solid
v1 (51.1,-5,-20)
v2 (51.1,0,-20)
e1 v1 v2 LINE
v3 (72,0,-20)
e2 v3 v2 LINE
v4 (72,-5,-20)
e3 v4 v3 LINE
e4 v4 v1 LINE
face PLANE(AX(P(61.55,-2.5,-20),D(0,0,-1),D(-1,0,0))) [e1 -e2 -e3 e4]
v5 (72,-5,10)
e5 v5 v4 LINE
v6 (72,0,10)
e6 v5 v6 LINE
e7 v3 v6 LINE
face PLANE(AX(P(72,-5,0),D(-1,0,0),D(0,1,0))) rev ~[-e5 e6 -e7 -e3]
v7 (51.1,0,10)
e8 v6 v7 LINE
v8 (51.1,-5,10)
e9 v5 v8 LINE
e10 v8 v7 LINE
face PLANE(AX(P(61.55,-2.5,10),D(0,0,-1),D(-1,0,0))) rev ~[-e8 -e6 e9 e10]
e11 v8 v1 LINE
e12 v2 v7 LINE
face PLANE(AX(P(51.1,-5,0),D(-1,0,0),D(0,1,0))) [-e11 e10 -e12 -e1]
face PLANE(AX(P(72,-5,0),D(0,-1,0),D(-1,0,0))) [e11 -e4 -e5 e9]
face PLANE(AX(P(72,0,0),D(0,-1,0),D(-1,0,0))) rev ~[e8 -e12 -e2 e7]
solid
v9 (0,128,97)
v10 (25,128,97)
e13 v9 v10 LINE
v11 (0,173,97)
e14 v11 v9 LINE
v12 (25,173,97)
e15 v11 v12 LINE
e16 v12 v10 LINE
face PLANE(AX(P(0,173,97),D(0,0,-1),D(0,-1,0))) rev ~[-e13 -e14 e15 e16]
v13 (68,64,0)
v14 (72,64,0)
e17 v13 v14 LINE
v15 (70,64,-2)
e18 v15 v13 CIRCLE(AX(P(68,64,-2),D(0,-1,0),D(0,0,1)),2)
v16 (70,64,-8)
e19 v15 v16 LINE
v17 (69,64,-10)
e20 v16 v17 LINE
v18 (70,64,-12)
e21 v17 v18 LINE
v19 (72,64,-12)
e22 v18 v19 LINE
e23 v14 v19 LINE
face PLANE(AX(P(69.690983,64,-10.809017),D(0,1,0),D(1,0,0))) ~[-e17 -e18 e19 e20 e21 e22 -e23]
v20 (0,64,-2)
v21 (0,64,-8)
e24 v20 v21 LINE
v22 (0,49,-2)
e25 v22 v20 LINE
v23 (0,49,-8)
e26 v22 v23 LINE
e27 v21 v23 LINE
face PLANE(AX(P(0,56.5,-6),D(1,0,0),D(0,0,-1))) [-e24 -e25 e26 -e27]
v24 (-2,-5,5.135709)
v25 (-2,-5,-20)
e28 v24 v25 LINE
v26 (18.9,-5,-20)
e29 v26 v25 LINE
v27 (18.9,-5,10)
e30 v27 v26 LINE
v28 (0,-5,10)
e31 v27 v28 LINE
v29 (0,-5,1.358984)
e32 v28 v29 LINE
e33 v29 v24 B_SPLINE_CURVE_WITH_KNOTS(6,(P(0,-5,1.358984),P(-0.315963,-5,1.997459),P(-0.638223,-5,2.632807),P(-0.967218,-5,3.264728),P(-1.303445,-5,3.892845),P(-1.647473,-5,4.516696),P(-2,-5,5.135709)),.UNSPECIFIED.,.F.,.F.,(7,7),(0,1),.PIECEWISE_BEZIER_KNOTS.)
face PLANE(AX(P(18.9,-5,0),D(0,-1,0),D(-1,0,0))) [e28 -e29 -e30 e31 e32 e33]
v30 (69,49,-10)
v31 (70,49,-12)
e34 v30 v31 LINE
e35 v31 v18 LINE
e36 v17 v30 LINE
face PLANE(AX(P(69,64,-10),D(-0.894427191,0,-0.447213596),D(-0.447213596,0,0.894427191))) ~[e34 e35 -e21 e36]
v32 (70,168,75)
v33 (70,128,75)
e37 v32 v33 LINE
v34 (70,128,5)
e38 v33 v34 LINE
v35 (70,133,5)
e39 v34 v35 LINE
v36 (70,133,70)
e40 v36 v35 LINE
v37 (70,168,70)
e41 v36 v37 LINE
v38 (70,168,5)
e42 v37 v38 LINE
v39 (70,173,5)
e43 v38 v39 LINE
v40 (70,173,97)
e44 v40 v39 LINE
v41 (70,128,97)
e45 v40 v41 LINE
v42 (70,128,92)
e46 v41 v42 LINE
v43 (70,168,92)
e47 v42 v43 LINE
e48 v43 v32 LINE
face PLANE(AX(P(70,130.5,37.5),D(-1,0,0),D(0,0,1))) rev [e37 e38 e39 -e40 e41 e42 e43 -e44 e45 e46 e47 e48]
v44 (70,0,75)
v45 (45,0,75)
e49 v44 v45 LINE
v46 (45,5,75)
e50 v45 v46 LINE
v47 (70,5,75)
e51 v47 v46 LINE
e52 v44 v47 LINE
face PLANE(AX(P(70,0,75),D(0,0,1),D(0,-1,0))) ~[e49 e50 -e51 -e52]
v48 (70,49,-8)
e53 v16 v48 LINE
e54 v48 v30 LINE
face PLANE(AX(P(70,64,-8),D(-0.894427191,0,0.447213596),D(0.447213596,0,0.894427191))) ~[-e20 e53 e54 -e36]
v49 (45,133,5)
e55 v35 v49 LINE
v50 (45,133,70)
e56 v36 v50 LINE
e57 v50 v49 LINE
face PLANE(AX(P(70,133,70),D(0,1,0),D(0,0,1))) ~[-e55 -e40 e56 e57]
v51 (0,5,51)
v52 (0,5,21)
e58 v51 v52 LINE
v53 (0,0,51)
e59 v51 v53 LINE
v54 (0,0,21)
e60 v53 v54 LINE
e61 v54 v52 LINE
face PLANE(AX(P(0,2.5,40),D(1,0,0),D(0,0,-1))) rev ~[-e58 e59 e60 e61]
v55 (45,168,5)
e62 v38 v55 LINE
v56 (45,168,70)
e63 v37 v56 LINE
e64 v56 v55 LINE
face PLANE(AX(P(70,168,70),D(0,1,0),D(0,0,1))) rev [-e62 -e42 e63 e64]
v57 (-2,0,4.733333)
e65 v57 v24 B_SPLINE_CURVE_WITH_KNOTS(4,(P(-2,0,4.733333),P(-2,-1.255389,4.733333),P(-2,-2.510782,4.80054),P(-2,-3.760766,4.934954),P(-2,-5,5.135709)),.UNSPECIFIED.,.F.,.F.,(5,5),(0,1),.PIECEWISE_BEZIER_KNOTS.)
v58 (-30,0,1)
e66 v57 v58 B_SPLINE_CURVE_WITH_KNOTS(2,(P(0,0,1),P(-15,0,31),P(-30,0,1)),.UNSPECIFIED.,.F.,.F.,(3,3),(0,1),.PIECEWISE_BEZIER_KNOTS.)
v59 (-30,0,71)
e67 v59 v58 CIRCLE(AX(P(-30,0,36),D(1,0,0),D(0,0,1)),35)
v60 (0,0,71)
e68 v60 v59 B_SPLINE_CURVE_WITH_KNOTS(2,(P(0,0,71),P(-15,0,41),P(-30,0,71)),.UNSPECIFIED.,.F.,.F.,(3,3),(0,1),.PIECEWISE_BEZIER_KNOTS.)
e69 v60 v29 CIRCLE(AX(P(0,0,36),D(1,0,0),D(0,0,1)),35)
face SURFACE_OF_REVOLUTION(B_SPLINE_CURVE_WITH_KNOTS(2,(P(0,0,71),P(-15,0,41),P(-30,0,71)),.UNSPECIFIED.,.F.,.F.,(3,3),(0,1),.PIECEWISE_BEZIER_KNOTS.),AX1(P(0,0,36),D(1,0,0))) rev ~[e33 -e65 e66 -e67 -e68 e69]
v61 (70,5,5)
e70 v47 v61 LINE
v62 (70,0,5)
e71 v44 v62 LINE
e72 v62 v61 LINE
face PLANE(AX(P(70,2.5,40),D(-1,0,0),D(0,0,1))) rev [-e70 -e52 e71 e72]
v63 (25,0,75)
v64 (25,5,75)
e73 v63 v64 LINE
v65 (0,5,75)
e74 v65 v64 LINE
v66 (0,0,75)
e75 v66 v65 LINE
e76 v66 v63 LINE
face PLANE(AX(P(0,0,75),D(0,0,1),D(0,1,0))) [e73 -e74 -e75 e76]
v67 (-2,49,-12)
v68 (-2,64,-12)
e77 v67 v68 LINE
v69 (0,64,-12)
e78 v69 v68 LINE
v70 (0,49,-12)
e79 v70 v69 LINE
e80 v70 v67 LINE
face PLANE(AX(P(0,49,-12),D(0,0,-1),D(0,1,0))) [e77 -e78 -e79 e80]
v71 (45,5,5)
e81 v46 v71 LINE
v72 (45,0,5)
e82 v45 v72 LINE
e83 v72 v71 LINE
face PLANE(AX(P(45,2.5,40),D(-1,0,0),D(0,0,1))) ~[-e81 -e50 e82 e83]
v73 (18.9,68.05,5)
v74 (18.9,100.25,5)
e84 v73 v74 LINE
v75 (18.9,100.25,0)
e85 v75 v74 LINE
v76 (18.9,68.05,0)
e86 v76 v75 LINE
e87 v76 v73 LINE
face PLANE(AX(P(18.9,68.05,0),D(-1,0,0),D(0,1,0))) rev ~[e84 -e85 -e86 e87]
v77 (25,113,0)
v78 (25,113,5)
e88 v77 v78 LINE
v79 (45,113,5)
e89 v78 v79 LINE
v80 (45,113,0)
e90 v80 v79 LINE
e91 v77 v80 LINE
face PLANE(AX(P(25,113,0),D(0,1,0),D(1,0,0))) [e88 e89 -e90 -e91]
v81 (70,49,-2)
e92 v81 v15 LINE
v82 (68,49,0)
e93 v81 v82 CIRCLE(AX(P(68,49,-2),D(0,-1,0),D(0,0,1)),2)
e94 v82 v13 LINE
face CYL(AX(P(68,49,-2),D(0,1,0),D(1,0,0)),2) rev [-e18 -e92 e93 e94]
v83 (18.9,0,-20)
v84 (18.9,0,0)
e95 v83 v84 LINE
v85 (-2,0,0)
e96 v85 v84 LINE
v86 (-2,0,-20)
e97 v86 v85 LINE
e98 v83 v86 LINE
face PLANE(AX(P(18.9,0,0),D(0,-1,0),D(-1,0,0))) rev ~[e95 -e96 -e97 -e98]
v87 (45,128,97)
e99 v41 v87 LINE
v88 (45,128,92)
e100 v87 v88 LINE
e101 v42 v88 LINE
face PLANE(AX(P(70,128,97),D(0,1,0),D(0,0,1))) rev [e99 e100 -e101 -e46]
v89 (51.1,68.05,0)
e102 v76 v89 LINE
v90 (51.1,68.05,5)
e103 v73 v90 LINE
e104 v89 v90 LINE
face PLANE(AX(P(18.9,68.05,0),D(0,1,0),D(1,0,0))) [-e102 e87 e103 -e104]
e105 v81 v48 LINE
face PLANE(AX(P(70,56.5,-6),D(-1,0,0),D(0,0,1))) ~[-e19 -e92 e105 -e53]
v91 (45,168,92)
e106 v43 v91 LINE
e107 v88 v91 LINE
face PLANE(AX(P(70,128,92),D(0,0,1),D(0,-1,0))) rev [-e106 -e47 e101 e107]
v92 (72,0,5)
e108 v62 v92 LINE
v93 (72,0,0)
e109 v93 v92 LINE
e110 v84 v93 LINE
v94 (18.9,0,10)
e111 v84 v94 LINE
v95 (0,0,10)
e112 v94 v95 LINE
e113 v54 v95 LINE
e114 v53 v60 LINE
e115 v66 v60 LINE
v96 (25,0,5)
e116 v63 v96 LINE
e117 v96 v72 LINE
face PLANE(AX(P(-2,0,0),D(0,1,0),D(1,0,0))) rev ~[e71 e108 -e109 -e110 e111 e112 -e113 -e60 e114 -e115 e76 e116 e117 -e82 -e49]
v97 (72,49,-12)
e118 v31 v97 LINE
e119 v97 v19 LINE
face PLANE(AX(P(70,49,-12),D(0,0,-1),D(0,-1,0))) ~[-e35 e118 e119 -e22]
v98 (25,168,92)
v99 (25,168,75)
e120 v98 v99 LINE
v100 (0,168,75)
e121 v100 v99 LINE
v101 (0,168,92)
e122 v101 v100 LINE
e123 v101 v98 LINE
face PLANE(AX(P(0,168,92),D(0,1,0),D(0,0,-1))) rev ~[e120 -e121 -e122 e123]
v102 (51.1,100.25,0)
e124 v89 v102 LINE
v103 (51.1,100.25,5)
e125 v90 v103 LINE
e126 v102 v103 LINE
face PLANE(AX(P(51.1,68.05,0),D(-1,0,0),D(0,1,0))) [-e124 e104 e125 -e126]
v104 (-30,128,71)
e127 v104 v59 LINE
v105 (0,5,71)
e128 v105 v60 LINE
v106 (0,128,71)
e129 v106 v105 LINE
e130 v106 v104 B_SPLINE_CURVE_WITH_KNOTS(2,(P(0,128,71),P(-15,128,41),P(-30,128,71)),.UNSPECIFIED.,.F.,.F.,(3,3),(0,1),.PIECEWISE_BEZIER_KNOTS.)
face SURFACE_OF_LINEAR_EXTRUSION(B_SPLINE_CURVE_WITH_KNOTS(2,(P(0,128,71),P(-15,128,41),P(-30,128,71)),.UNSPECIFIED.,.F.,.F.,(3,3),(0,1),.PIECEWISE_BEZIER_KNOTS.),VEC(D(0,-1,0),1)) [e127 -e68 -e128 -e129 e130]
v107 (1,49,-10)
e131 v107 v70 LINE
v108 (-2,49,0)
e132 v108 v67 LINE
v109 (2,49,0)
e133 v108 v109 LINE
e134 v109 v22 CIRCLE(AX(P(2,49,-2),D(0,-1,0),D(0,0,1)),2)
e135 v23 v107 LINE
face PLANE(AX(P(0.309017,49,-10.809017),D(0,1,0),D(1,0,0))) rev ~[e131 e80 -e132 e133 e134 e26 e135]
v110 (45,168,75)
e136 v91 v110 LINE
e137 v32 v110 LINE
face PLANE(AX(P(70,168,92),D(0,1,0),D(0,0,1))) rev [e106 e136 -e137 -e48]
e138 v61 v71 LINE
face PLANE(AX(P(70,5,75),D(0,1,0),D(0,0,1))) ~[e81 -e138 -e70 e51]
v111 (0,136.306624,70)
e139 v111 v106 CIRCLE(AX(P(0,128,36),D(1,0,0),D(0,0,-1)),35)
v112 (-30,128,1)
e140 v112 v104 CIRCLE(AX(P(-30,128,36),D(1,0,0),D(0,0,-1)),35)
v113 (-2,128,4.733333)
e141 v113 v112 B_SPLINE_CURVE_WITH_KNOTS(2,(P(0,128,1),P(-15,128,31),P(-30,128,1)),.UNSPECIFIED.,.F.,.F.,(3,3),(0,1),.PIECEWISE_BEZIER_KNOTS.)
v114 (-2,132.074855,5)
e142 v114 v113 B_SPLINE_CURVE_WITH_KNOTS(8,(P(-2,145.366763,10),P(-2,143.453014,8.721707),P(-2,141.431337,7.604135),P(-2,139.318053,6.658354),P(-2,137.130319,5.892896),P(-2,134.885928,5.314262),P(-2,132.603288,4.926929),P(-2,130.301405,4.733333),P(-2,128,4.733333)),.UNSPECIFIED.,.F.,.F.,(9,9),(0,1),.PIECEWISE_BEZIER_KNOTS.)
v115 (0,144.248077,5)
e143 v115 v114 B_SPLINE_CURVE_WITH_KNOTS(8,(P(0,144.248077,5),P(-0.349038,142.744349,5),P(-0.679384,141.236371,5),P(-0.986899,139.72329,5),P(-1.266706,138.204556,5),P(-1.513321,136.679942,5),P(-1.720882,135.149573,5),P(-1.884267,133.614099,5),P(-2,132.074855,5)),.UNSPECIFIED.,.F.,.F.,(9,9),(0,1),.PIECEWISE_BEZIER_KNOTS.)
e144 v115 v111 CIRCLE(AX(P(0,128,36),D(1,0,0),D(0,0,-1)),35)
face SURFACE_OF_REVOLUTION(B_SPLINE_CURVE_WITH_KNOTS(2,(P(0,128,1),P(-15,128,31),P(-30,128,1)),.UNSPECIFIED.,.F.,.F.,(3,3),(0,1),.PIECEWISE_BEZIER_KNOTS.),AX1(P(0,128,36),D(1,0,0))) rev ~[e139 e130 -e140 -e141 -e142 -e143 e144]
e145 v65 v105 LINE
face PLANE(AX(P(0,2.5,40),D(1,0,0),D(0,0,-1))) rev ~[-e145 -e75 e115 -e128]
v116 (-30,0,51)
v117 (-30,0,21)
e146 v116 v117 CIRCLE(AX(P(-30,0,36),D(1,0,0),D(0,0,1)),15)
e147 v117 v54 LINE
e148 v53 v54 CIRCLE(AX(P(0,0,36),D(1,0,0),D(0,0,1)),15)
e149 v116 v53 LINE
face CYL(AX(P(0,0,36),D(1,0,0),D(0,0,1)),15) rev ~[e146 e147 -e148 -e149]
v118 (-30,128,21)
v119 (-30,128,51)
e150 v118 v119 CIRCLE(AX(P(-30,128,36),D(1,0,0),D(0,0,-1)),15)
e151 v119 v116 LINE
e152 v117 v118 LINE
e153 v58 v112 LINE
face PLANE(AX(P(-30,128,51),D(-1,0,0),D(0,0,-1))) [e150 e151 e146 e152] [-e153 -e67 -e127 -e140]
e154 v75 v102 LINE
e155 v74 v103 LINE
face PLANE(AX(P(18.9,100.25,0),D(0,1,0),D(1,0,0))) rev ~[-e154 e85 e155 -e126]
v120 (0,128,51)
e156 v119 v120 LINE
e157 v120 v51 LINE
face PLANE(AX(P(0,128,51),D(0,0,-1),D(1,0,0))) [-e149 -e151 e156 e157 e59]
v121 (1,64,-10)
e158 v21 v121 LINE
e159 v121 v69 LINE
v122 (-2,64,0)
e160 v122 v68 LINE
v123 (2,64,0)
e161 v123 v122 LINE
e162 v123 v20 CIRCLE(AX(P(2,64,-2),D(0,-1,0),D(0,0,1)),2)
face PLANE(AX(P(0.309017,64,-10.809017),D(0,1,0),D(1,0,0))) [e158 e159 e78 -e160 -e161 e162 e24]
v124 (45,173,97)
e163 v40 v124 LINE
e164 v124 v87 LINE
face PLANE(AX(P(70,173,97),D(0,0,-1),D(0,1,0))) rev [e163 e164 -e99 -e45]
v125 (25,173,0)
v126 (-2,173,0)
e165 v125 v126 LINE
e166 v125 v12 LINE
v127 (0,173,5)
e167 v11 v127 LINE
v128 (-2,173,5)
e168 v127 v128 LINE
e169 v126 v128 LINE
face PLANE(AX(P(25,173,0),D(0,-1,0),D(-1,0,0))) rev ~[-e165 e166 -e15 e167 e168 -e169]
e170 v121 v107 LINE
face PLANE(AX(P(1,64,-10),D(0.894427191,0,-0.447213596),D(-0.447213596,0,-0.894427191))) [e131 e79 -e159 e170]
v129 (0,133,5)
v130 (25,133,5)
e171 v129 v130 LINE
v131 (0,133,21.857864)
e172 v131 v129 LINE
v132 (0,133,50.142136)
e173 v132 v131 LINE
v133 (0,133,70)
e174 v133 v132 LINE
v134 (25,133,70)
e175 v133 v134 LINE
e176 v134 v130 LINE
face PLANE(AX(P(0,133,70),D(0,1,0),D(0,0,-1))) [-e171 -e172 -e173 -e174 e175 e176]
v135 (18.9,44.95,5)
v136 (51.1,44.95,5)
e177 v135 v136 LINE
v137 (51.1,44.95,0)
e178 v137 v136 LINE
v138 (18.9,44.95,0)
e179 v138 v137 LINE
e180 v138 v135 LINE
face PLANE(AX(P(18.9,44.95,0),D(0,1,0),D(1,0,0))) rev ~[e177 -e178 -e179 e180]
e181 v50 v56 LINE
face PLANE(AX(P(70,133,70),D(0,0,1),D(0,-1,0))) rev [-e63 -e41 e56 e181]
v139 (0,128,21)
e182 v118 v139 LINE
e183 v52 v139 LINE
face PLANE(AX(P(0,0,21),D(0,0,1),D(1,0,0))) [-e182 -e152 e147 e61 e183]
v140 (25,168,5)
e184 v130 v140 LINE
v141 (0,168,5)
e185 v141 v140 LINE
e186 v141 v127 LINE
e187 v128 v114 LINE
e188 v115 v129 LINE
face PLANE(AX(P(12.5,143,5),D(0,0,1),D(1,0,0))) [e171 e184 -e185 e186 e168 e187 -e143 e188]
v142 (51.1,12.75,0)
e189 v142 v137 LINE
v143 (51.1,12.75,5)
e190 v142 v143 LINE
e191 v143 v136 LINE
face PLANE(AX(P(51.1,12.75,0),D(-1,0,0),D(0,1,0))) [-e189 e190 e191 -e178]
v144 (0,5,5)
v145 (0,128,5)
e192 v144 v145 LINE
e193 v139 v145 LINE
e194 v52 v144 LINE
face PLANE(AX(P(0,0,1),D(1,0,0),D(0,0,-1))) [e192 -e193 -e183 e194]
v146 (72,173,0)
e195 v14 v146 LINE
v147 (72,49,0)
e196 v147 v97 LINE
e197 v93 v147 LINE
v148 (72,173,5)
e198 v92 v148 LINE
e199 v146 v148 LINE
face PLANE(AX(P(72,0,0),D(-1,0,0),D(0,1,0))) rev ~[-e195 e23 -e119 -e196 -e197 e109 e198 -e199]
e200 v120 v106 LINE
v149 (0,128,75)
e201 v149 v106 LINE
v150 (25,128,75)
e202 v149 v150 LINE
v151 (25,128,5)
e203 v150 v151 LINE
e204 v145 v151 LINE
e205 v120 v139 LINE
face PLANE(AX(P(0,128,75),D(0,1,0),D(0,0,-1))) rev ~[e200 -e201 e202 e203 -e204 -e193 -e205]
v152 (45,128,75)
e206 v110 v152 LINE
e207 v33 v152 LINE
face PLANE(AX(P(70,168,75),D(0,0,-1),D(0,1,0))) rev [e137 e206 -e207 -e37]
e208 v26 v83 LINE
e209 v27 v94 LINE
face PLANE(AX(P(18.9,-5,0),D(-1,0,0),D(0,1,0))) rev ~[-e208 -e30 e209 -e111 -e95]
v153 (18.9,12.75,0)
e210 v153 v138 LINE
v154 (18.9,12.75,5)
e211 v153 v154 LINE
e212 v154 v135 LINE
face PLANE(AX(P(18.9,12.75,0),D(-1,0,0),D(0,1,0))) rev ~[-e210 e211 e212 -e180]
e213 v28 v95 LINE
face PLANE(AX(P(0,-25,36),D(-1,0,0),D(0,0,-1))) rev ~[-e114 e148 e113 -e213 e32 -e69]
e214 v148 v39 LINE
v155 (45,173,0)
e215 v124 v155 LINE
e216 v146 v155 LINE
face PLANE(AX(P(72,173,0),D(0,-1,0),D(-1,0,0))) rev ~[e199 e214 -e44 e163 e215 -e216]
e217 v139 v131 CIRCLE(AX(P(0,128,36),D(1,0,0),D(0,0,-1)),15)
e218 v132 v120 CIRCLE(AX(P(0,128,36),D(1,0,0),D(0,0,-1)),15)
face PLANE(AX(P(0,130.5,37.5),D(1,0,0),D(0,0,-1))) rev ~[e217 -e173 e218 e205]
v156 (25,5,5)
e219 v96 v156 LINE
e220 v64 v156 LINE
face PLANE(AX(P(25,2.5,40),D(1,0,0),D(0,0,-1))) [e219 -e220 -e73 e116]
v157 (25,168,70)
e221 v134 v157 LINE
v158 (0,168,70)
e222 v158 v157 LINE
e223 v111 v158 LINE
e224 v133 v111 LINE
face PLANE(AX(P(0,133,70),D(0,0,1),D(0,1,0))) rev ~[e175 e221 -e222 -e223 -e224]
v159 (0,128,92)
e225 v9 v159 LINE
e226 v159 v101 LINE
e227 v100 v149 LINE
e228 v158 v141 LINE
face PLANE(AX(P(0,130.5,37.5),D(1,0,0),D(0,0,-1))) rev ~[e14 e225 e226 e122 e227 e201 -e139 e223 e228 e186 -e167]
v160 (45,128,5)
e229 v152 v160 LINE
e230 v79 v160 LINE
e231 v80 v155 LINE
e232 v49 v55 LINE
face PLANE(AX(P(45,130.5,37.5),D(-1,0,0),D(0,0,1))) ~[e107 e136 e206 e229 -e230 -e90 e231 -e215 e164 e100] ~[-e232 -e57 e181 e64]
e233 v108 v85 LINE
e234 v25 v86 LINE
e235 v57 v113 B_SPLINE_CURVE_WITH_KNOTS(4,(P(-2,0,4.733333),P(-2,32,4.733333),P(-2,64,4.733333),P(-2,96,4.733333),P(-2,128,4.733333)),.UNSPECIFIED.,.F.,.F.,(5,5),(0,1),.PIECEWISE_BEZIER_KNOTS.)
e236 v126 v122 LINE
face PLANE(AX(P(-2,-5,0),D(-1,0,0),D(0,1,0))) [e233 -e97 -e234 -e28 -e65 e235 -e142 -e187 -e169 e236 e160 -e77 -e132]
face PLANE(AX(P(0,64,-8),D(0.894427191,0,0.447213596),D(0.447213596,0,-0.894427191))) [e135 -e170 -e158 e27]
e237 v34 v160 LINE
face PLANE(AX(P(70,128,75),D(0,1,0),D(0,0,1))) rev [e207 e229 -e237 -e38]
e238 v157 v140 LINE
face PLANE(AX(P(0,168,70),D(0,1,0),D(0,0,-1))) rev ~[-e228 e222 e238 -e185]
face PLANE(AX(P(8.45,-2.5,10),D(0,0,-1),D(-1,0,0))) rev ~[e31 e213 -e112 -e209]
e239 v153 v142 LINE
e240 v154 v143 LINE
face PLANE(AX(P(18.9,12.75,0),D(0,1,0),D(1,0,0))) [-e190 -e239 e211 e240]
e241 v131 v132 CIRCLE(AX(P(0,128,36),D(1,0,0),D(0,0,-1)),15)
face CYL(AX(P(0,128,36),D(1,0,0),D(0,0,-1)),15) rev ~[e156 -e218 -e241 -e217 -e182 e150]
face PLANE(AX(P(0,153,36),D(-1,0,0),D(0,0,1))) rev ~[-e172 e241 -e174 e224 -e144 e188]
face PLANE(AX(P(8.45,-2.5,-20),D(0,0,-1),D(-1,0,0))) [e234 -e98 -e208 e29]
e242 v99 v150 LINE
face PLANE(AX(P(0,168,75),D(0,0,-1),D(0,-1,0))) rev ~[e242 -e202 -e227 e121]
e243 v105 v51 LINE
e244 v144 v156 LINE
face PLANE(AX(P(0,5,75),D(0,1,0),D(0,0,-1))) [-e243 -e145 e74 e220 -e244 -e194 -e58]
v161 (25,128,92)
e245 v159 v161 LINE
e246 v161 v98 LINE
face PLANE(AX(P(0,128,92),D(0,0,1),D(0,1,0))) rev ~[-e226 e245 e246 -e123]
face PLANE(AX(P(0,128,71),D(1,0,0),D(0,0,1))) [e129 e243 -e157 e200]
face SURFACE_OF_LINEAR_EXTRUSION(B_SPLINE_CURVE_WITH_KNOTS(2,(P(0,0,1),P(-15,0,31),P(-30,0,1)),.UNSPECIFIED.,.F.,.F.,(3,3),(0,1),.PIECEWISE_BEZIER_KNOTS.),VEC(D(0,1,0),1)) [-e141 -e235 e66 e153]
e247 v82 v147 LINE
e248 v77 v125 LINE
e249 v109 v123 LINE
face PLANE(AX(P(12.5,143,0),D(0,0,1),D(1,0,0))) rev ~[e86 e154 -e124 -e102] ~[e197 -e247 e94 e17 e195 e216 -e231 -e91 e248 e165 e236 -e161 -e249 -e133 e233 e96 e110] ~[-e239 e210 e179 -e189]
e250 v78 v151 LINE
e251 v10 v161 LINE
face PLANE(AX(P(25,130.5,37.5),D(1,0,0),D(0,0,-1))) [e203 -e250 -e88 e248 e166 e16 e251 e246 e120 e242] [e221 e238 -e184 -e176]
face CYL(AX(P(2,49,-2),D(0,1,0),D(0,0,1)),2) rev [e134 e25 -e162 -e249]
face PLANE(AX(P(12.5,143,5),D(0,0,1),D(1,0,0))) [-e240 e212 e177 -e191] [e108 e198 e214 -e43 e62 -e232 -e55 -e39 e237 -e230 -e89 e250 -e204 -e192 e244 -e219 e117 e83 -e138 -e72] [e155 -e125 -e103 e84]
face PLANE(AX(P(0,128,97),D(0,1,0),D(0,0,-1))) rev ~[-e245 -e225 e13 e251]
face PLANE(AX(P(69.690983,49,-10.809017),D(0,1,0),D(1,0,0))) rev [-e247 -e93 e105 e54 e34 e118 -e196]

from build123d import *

# Parameters (mm, degrees)
SKETCH1_W                  = 25
SKETCH1_H                  = 60
SKETCH1_W_2                = 70
SKETCH1_H_2                = 113
SKETCH1_W_3                = 32.2
SKETCH1_H_3                = 32.2
BOSS_EXTRUDE1_DEPTH        = 5
SKETCH2_W                  = 65
SKETCH2_H                  = 5
SKETCH2_W_2                = 5
SKETCH2_H_2                = 40
SKETCH2_W_3                = 92
SKETCH2_W_4                = 70
BOSS_EXTRUDE2_DEPTH        = 25
SKETCH3_W                  = 12
SKETCH3_H                  = 15
BOSS_EXTRUDE3_DEPTH        = 2
BOSS_EXTRUDE5_DEPTH        = 15
SKETCH5_W                  = 20.9
SKETCH5_H                  = 5
BOSS_EXTRUDE6_DEPTH        = 20
BOSS_EXTRUDE6_DEPTH_BACK   = 10
BOSS_EXTRUDE6_2_DEPTH      = 20
BOSS_EXTRUDE6_2_DEPTH_BACK = 10
FILLET1_R                  = 2


with BuildPart() as part:
    # Sketch1 → Boss-Extrude1 (new body)
    with BuildSketch(Plane.XY):
        with Locations((12.5, 143)):
            Rectangle(SKETCH1_W, SKETCH1_H)
        with Locations((57.5, 143)):
            Rectangle(SKETCH1_W, SKETCH1_H)
        with Locations((35, 56.5)):
            Rectangle(SKETCH1_W_2, SKETCH1_H_2)
        with Locations((35, 28.85)):
            Rectangle(SKETCH1_W_3, SKETCH1_H_3, mode=Mode.SUBTRACT)
        with Locations((35, 84.15)):
            Rectangle(SKETCH1_W_3, SKETCH1_H_3, mode=Mode.SUBTRACT)
        Polygon((0, 173), (-2, 173), (-2, 0), (0, 0), (0, 113), align=None)
        Polygon((70, 0), (72, 0), (72, 173), (70, 173), (70, 113), align=None)
    extrude(amount=BOSS_EXTRUDE1_DEPTH)

    # Sketch2 → Boss-Extrude2 (add)
    with BuildSketch(Plane(origin=(0, 0, 0), x_dir=(0, 0, -1), z_dir=(1, 0, 0))):
        with Locations((-37.5, 130.5)):
            Rectangle(SKETCH2_W, SKETCH2_H)
        Polygon((-70, 133), (-70, 168), (-75, 168), (-75, 128), (-70, 128), align=None)
        with Locations((-94.5, 148)):
            Rectangle(SKETCH2_W_2, SKETCH2_H_2)
        with Locations((-51, 170.5)):
            Rectangle(SKETCH2_W_3, SKETCH2_H)
        with Locations((-40, 2.5)):
            Rectangle(SKETCH2_W_4, SKETCH2_H)
    boss_extrude2 = extrude(amount=BOSS_EXTRUDE2_DEPTH)

    # Mirror2: Boss-Extrude2 across plane
    add(boss_extrude2.mirror(Plane(origin=(35, 0, 0), x_dir=(0, 0, 1), z_dir=(1, 0, 0))))

    # Sketch3 → Boss-Extrude3 (add, through all)
    with BuildSketch(Plane(origin=(0, 0, 0), x_dir=(0, 0, -1), z_dir=(1, 0, 0))):
        with Locations((6, 56.5)):
            Rectangle(SKETCH3_W, SKETCH3_H)
    boss_extrude3 = extrude(amount=-BOSS_EXTRUDE3_DEPTH)

    # Sketch4 → Boss-Extrude5 (add)
    with BuildSketch(Plane(origin=(0, 64, 0), x_dir=(1, 0, 0), z_dir=(0, 1, 0))):
        Polygon((1, 10), (0, 12), (0, 10), align=None)
        Polygon((0, 8), (1, 10), (0, 10), align=None)
    boss_extrude5 = extrude(amount=-BOSS_EXTRUDE5_DEPTH)

    # Mirror3: Boss-Extrude3, Boss-Extrude5 across plane
    add(boss_extrude3.mirror(Plane(origin=(35, 0, 0), x_dir=(0, 0, 1), z_dir=(1, 0, 0))))
    add(boss_extrude5.mirror(Plane(origin=(35, 0, 0), x_dir=(0, 0, 1), z_dir=(1, 0, 0))))

    # Fillet1
    fillet1_edges = [part.edges().sort_by_distance(p)[0] for p in [
        (0, 56.5, 0),
        (70, 56.5, 0),
    ]]
    fillet(fillet1_edges, radius=FILLET1_R)



with BuildPart() as body_2:
    # Sketch5 → Boss-Extrude6 (new body, two sides)
    with BuildSketch(Plane(origin=(0, 0, 0), x_dir=(-1, 0, 0), z_dir=(0, 0, -1))) as boss_extrude6_sk:
        with Locations((-61.55, -2.5)):
            Rectangle(SKETCH5_W, SKETCH5_H)
    extrude(amount=BOSS_EXTRUDE6_DEPTH)
    extrude(boss_extrude6_sk.sketch, amount=-BOSS_EXTRUDE6_DEPTH_BACK)


with BuildPart() as body_3:
    # Sketch5 → Boss-Extrude6 2 (new body, two sides)
    with BuildSketch(Plane(origin=(0, 0, 0), x_dir=(-1, 0, 0), z_dir=(0, 0, -1))) as boss_extrude6_2_sk:
        with Locations((-8.45, -2.5)):
            Rectangle(SKETCH5_W, SKETCH5_H)
    extrude(amount=BOSS_EXTRUDE6_2_DEPTH)
    extrude(boss_extrude6_2_sk.sketch, amount=-BOSS_EXTRUDE6_2_DEPTH_BACK)


with BuildPart() as part_1:
    add(part.part)

    add(body_3.part)  # Sweep5 merges body 3
    # Sweep5: sweep along a path in Sketch7
    with BuildLine(Plane.ZY) as sweep5_path:
        Line((51, 128), (51, 0))
        ThreePointArc((51, 0), (36, -15), (21, 0))
        Line((21, 0), (21, 128))
        ThreePointArc((21, 128), (36, 143), (51, 128))
    # Sketch8 → Sweep5 (sweep)
    with BuildSketch(Plane(origin=(0, 50, 0), x_dir=(1, 0, 0), z_dir=(0, 1, 0))):
        with BuildLine():
            Line((0, -21), (-30, -21))
            Line((-30, -21), (-30, -1))
            add(Edge.make_bspline(
                [(-30, -1), (-15, -31), (0, -1)],
                knots=[0, 0, 0, 1, 1, 1], degree=2))
            Line((0, -1), (0, -21))
        make_face()
    sweep(path=sweep5_path.line)


solid = Compound([body_2.part, part_1.part])
